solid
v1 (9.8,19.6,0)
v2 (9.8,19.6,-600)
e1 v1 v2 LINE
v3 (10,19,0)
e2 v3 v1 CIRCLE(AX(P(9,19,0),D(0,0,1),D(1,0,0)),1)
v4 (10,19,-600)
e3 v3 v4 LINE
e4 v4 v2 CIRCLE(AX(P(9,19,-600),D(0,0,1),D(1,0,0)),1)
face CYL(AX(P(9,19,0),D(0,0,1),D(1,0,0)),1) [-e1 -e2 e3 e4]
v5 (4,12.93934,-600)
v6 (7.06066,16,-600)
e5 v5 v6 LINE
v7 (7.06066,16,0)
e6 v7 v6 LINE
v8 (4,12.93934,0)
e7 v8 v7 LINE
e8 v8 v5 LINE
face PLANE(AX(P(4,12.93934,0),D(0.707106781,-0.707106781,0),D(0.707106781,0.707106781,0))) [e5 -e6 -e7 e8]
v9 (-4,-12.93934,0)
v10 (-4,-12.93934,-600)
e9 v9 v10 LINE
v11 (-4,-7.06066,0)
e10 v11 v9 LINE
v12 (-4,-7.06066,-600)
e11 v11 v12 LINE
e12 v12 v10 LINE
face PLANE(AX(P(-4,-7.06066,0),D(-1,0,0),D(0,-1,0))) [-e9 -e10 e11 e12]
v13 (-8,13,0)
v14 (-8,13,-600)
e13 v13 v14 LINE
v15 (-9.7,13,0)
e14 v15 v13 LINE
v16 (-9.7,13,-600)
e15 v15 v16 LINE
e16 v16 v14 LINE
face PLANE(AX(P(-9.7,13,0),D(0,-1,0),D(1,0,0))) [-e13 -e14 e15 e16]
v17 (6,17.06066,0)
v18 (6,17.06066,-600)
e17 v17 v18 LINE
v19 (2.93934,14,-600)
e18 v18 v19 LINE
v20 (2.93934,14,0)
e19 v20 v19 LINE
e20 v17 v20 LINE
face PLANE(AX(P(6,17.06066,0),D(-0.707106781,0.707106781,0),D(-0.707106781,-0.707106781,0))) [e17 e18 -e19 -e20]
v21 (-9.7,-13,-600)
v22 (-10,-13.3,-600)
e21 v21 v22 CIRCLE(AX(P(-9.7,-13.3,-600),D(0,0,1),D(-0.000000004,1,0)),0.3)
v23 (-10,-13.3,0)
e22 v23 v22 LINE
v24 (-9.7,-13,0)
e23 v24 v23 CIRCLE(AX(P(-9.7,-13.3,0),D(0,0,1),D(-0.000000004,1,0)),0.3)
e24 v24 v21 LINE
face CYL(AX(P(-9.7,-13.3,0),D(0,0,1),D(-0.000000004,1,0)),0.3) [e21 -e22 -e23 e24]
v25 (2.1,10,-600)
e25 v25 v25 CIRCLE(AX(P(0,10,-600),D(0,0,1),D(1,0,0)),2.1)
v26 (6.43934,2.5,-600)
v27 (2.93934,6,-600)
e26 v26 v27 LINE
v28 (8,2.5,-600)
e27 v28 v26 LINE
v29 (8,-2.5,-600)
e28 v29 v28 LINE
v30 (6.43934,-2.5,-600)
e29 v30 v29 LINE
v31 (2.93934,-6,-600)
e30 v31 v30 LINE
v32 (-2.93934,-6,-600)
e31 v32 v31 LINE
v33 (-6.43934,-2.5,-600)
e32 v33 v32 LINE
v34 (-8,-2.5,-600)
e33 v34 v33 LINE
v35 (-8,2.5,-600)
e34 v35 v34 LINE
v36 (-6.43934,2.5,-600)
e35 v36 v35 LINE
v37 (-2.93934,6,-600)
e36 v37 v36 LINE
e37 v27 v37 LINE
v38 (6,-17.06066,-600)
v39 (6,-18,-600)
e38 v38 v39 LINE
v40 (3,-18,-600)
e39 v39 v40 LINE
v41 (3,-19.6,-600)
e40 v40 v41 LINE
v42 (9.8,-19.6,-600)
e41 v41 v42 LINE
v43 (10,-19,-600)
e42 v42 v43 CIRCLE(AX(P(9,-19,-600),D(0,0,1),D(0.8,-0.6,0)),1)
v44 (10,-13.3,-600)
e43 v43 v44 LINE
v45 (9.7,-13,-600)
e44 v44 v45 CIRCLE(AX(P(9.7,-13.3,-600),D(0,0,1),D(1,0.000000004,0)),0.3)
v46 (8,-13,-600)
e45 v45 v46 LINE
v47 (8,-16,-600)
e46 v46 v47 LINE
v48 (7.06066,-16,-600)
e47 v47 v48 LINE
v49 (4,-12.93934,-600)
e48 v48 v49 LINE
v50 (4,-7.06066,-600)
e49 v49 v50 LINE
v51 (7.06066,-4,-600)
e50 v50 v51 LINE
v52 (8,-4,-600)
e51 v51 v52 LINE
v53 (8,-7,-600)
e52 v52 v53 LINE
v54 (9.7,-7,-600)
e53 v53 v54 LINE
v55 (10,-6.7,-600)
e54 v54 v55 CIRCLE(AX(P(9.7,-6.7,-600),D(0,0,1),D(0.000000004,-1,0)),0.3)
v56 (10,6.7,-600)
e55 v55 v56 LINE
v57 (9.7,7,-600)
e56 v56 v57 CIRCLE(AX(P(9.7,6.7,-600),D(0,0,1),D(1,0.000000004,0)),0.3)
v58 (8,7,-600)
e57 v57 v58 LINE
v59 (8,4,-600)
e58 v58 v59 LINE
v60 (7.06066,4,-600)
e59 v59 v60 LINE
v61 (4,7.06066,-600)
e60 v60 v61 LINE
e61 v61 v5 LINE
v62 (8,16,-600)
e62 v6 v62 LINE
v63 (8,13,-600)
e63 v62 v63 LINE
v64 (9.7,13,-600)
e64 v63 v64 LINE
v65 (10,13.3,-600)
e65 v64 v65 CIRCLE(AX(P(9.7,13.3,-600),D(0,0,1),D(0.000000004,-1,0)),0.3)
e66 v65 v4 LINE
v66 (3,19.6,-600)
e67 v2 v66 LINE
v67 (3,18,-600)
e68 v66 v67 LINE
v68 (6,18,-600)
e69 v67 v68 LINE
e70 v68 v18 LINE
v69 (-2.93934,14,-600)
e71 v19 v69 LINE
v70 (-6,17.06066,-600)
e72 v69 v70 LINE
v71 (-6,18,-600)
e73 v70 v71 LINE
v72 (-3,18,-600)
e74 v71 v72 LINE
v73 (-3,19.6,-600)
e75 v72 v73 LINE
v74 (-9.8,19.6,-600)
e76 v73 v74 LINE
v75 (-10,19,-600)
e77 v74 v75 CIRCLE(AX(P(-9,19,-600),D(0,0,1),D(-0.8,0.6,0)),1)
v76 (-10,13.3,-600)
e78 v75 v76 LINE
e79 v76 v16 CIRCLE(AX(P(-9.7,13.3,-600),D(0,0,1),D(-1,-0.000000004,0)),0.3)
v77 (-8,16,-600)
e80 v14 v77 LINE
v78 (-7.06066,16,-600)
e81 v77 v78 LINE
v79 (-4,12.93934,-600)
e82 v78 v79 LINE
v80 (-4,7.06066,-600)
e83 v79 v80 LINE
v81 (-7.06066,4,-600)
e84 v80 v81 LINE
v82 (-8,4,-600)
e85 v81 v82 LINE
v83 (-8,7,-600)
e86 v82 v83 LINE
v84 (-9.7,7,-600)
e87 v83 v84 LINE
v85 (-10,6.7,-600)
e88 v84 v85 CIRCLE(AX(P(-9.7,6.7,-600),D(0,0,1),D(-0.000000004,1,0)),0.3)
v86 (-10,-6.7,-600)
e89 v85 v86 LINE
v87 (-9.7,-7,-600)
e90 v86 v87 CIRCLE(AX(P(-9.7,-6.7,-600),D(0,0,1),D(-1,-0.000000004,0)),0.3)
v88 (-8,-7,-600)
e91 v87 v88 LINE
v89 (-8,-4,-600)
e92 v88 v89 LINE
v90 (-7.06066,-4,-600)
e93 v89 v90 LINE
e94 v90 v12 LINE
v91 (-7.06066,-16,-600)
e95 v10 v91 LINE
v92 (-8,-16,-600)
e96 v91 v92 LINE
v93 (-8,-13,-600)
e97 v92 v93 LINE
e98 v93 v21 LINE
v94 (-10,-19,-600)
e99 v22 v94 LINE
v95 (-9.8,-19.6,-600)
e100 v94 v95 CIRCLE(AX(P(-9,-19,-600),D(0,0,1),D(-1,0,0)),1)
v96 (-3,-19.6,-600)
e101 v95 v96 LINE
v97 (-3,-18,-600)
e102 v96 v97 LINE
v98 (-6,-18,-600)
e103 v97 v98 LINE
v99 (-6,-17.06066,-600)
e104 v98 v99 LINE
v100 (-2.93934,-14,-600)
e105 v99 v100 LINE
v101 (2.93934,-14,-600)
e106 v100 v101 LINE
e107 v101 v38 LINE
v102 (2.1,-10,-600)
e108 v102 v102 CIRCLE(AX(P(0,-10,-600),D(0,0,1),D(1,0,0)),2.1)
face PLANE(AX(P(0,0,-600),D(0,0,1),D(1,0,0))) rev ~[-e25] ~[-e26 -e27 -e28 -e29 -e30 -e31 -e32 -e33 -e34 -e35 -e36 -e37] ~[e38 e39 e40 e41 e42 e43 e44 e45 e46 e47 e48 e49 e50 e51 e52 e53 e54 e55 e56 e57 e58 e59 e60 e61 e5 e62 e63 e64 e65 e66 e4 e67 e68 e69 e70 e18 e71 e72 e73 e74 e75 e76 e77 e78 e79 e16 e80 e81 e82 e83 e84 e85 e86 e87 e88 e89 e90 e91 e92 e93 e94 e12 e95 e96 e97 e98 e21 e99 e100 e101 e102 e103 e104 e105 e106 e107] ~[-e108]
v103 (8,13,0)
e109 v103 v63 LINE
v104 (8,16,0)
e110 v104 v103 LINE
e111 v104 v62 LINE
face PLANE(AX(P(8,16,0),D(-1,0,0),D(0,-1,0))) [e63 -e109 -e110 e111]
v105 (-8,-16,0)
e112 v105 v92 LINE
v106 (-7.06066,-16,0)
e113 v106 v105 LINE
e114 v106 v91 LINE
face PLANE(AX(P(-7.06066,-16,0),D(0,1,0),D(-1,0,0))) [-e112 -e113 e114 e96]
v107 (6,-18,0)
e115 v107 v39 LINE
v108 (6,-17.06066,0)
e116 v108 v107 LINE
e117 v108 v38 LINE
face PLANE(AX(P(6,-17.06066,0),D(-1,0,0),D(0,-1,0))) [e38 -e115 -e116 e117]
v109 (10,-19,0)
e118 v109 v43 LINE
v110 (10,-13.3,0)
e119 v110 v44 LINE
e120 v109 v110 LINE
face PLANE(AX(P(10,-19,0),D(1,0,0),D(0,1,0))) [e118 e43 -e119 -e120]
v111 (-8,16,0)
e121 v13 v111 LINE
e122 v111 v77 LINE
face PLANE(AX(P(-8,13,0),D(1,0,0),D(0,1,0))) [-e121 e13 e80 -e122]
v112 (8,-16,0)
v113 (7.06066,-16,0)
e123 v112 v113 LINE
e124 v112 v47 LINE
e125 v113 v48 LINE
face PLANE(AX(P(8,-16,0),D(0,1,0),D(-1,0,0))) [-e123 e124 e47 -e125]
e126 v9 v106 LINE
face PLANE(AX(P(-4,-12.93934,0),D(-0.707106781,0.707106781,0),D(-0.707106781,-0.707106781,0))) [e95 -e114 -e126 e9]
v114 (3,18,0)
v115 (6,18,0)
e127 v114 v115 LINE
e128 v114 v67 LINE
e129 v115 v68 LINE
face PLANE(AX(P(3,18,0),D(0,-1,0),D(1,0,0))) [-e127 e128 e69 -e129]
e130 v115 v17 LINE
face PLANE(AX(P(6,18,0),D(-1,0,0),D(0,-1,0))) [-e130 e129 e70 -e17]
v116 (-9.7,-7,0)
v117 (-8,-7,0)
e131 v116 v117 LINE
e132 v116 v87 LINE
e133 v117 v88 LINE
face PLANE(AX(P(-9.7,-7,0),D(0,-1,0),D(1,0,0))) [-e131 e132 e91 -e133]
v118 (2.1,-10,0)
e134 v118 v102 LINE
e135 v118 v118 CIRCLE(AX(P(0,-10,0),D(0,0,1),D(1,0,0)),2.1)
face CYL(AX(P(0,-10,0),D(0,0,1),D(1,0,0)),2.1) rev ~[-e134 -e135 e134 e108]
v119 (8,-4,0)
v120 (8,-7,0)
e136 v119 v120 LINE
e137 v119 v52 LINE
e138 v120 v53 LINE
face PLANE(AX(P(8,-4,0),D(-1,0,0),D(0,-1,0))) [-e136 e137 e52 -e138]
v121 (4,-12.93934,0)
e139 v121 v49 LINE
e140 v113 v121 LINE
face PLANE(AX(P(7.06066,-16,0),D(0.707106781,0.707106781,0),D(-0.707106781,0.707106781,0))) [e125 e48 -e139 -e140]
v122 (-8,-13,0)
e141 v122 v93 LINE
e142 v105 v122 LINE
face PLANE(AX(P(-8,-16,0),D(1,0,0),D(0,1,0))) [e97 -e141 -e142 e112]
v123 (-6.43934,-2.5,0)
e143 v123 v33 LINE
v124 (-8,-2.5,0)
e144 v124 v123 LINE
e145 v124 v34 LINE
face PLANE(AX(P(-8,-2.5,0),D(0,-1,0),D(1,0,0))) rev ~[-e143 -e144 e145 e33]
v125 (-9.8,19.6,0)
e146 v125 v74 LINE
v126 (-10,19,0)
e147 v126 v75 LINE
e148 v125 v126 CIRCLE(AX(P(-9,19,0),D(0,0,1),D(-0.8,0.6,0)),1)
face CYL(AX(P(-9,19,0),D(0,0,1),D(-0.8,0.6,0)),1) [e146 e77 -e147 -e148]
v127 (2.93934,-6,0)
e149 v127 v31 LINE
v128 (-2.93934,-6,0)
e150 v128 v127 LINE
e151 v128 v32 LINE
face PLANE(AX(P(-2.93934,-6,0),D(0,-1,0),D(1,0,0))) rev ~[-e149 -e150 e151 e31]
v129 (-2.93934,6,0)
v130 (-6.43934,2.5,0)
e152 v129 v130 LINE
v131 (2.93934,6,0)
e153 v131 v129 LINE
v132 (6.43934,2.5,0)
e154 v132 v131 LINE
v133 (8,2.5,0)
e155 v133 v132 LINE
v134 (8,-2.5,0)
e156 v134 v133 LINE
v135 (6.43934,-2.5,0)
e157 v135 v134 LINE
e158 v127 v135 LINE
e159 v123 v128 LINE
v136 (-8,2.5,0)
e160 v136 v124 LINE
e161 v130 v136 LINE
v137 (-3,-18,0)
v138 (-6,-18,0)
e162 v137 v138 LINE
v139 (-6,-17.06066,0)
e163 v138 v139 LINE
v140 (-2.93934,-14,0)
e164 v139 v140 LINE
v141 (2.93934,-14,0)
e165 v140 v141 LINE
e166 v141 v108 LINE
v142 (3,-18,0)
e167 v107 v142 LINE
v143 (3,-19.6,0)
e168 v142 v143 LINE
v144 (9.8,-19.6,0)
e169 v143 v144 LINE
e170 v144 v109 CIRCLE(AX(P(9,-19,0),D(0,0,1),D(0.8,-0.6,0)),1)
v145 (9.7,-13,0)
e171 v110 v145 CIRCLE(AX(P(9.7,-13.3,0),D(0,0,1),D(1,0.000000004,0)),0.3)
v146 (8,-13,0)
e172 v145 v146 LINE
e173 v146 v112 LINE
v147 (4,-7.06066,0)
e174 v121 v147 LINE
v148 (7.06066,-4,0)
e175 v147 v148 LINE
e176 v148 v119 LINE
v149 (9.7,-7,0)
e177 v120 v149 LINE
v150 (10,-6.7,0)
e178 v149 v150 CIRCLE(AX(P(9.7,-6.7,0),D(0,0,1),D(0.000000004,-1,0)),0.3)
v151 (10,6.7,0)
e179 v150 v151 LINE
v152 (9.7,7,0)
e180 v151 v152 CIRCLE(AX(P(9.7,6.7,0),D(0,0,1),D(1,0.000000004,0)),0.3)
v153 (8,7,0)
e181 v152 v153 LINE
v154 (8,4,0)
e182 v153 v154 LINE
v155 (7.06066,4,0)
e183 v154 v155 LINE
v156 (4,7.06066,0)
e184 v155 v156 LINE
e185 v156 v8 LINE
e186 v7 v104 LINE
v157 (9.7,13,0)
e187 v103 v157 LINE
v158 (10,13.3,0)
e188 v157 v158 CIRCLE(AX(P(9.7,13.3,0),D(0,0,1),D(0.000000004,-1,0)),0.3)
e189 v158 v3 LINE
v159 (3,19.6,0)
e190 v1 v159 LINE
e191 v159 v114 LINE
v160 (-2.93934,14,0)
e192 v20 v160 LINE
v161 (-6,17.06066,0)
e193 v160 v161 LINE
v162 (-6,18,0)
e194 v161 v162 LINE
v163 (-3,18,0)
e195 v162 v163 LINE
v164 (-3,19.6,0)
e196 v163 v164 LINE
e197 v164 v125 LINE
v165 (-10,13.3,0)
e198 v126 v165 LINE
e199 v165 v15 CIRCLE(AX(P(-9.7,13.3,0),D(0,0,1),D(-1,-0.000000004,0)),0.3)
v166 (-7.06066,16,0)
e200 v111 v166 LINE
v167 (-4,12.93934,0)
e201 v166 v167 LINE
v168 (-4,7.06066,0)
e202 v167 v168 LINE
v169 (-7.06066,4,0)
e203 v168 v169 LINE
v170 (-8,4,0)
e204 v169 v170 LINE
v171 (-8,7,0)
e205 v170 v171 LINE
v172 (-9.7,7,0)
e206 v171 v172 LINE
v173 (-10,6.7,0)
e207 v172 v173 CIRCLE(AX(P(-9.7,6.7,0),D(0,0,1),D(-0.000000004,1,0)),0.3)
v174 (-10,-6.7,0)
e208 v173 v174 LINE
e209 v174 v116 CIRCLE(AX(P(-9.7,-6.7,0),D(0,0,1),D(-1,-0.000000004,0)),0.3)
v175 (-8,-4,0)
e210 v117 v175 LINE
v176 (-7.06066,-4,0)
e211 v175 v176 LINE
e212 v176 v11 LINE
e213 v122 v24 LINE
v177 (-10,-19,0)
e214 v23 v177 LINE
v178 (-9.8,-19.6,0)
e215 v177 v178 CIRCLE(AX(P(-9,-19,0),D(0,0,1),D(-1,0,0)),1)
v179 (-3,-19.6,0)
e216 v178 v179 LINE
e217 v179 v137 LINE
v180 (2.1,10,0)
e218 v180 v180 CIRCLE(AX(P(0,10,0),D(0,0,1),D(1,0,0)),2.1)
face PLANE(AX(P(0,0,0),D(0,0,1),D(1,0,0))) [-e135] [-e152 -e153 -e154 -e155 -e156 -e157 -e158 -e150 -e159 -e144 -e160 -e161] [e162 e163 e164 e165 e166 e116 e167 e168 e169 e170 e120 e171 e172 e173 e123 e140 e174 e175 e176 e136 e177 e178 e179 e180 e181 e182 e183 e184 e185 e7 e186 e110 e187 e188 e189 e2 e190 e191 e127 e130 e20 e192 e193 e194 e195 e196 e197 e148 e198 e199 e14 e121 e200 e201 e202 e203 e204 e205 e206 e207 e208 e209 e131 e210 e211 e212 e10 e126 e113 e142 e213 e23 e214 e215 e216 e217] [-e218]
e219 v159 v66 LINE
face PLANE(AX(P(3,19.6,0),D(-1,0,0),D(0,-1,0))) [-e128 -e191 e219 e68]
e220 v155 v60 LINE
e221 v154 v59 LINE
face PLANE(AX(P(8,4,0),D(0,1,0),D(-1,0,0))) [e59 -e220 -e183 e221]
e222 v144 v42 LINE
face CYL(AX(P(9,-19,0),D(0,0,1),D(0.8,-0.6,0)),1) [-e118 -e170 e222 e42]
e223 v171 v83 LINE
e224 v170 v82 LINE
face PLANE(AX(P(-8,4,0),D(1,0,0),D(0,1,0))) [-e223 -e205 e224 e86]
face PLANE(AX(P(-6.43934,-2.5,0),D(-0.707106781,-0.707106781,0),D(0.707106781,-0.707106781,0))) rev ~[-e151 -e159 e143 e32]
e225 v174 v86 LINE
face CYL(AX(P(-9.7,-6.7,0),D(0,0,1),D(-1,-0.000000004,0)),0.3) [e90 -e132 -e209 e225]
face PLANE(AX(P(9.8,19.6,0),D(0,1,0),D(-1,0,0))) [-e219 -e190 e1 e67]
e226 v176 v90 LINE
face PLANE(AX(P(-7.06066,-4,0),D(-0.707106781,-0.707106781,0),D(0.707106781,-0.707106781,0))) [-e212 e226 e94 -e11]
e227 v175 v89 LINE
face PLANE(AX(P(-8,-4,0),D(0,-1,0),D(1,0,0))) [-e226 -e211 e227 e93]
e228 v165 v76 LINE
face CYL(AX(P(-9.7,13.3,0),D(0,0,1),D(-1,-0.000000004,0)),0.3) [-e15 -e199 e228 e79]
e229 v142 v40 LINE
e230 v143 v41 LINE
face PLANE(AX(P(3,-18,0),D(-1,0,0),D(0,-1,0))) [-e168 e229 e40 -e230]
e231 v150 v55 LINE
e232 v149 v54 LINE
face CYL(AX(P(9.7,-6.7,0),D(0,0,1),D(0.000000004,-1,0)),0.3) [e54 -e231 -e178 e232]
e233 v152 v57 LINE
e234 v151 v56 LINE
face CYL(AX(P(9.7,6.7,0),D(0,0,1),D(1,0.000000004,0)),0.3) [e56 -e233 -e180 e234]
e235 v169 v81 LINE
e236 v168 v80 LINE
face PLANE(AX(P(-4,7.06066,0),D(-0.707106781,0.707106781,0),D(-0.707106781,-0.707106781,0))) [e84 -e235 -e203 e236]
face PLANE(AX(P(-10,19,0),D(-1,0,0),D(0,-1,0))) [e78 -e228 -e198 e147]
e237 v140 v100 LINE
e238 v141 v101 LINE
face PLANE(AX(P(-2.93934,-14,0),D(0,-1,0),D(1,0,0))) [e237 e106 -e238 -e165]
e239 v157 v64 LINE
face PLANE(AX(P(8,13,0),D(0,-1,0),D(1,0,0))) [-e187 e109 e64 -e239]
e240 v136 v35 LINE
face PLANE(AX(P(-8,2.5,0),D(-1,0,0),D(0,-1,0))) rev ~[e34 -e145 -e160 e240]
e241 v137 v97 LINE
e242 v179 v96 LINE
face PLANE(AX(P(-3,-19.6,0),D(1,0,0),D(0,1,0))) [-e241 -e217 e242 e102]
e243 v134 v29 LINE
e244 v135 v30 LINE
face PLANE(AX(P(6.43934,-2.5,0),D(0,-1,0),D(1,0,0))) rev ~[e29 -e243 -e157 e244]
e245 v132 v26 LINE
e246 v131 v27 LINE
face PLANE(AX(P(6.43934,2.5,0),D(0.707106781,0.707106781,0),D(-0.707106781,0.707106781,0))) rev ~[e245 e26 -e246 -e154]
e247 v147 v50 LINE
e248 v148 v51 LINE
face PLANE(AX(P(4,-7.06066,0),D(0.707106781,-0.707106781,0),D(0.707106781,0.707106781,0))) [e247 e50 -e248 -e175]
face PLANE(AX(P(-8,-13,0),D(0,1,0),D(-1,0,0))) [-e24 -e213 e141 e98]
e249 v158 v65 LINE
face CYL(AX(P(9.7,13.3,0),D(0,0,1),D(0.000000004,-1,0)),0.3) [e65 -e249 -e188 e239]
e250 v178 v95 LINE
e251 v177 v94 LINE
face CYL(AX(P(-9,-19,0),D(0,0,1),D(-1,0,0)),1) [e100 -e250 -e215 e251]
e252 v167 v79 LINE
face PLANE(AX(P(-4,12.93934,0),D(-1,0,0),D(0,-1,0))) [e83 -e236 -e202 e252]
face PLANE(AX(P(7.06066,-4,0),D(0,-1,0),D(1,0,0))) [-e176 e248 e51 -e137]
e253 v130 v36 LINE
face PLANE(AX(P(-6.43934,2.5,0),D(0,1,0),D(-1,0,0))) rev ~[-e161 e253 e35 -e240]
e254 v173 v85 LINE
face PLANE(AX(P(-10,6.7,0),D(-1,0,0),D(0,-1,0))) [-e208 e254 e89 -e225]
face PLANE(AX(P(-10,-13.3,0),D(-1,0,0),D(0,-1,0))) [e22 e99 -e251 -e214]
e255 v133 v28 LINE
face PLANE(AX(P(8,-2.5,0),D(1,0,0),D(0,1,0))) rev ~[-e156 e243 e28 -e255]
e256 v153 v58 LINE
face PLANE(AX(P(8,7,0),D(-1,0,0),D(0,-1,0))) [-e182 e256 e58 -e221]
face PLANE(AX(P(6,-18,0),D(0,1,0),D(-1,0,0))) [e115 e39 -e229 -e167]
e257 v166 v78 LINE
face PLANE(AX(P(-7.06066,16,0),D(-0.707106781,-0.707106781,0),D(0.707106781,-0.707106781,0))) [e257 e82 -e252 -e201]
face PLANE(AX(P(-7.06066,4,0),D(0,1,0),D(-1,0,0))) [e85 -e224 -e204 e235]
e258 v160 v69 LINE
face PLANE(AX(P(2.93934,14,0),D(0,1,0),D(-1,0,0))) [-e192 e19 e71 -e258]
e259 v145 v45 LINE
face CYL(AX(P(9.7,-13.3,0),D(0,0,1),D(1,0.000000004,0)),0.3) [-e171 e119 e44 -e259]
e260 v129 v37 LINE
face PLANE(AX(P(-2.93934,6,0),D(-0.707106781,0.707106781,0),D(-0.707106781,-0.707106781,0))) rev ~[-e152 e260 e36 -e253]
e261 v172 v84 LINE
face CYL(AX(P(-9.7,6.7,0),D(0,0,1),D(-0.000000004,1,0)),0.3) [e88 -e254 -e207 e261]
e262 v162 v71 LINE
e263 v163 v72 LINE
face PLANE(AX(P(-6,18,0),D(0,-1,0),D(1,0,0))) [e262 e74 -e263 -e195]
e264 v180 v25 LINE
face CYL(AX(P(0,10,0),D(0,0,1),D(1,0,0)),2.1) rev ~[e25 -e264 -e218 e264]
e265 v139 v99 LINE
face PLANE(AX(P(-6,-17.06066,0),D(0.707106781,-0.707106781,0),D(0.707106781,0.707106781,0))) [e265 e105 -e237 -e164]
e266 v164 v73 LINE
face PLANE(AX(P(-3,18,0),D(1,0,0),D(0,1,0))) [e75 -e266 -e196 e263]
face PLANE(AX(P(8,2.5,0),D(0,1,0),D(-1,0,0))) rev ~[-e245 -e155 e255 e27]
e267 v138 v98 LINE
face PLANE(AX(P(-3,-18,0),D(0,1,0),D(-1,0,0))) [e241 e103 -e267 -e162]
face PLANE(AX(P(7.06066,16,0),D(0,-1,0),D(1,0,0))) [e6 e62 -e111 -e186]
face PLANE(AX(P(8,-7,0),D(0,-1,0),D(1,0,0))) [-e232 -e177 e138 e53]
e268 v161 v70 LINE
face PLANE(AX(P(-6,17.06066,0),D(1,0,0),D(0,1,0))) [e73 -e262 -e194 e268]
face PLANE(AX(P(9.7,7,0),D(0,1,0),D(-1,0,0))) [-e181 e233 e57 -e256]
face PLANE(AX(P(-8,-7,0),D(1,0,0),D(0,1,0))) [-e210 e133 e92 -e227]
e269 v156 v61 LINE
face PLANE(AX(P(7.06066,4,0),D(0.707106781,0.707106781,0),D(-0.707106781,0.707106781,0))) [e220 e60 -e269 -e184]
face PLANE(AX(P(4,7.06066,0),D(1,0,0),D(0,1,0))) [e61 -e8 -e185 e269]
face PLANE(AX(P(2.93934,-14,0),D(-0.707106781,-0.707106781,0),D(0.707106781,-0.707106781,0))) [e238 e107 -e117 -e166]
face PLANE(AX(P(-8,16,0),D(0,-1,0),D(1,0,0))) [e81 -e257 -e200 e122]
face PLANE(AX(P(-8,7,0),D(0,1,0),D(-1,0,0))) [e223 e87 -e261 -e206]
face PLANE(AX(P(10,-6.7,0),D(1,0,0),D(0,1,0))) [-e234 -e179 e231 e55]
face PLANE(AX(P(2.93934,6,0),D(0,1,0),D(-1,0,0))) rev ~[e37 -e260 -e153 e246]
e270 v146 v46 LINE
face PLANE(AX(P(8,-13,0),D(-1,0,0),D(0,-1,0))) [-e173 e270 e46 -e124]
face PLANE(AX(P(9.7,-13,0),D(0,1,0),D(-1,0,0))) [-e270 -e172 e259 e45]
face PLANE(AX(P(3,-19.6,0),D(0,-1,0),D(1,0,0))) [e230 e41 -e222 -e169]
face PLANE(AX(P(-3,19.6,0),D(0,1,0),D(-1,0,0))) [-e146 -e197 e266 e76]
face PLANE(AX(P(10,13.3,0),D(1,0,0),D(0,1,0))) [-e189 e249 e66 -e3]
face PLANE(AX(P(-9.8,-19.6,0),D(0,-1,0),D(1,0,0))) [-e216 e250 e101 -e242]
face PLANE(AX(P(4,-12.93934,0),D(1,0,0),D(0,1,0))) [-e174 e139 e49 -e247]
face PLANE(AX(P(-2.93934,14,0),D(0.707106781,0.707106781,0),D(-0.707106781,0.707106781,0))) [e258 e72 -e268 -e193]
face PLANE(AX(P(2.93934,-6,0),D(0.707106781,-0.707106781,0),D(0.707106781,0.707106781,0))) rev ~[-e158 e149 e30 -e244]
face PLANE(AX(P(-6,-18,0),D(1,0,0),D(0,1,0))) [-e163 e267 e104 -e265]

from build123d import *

# Parameters (mm, degrees)
SKETCH_1_R      = 2.1
EXTRUDE_1_DEPTH = 600


with BuildPart() as part:
    # 草图1 → 凸台-拉伸1 (new body)
    with BuildSketch(Plane.XY):
        with BuildLine():
            Line((-10, 19), (-10, 13.3))
            ThreePointArc((-10, 13.3), (-9.912132034, 13.087867966), (-9.7, 13))
            Line((-9.7, 13), (-8, 13))
            Line((-8, 13), (-8, 16))
            Line((-8, 16), (-7.060660172, 16))
            Line((-7.060660172, 16), (-4, 12.939339828))
            Line((-4, 12.939339828), (-4, 7.060660172))
            Line((-4, 7.060660172), (-7.060660172, 4))
            Line((-7.060660172, 4), (-8, 4))
            Line((-8, 4), (-8, 7))
            Line((-8, 7), (-9.7, 7))
            ThreePointArc((-9.7, 7), (-9.912132034, 6.912132034), (-10, 6.7))
            Line((-10, 6.7), (-10, -6.7))
            ThreePointArc((-10, -6.7), (-9.912132034, -6.912132034), (-9.7, -7))
            Line((-9.7, -7), (-8, -7))
            Line((-8, -7), (-8, -4))
            Line((-8, -4), (-7.060660172, -4))
            Line((-7.060660172, -4), (-4, -7.060660172))
            Line((-4, -7.060660172), (-4, -12.939339828))
            Line((-4, -12.939339828), (-7.060660172, -16))
            Line((-7.060660172, -16), (-8, -16))
            Line((-8, -16), (-8, -13))
            Line((-8, -13), (-9.7, -13))
            ThreePointArc((-9.7, -13), (-9.912132034, -13.087867966), (-10, -13.3))
            Line((-10, -13.3), (-10, -19))
            ThreePointArc((-10, -19), (-9.948683298, -19.316227766), (-9.8, -19.6))
            Line((-9.8, -19.6), (-3, -19.6))
            Line((-3, -19.6), (-3, -18))
            Line((-3, -18), (-6, -18))
            Line((-6, -18), (-6, -17.060660172))
            Line((-6, -17.060660172), (-2.939339828, -14))
            Line((-2.939339828, -14), (2.939339828, -14))
            Line((2.939339828, -14), (6, -17.060660172))
            Line((6, -17.060660172), (6, -18))
            Line((6, -18), (3, -18))
            Line((3, -18), (3, -19.6))
            Line((3, -19.6), (9.8, -19.6))
            ThreePointArc((9.8, -19.6), (9.948683298, -19.316227766), (10, -19))
            Line((10, -19), (10, -13.3))
            ThreePointArc((10, -13.3), (9.912132034, -13.087867966), (9.7, -13))
            Line((9.7, -13), (8, -13))
            Line((8, -13), (8, -16))
            Line((8, -16), (7.060660172, -16))
            Line((7.060660172, -16), (4, -12.939339828))
            Line((4, -12.939339828), (4, -7.060660172))
            Line((4, -7.060660172), (7.060660172, -4))
            Line((7.060660172, -4), (8, -4))
            Line((8, -4), (8, -7))
            Line((8, -7), (9.7, -7))
            ThreePointArc((9.7, -7), (9.912132034, -6.912132034), (10, -6.7))
            Line((10, -6.7), (10, 6.7))
            ThreePointArc((10, 6.7), (9.912132034, 6.912132034), (9.7, 7))
            Line((9.7, 7), (8, 7))
            Line((8, 7), (8, 4))
            Line((8, 4), (7.060660172, 4))
            Line((7.060660172, 4), (4, 7.060660172))
            Line((4, 7.060660172), (4, 12.939339828))
            Line((4, 12.939339828), (7.060660172, 16))
            Line((7.060660172, 16), (8, 16))
            Line((8, 16), (8, 13))
            Line((8, 13), (9.7, 13))
            ThreePointArc((9.7, 13), (9.912132034, 13.087867966), (10, 13.3))
            Line((10, 13.3), (10, 19))
            ThreePointArc((10, 19), (9.948683298, 19.316227766), (9.8, 19.6))
            Line((9.8, 19.6), (3, 19.6))
            Line((3, 19.6), (3, 18))
            Line((3, 18), (6, 18))
            Line((6, 18), (6, 17.060660172))
            Line((6, 17.060660172), (2.939339828, 14))
            Line((2.939339828, 14), (-2.939339828, 14))
            Line((-2.939339828, 14), (-6, 17.060660172))
            Line((-6, 17.060660172), (-6, 18))
            Line((-6, 18), (-3, 18))
            Line((-3, 18), (-3, 19.6))
            Line((-3, 19.6), (-9.8, 19.6))
            ThreePointArc((-9.8, 19.6), (-9.948683298, 19.316227766), (-10, 19))
        make_face()
        with Locations((0, -10)):
            Circle(SKETCH_1_R, mode=Mode.SUBTRACT)
        with Locations((0, 10)):
            Circle(SKETCH_1_R, mode=Mode.SUBTRACT)
        Polygon((-8, -2.5), (-6.439339828, -2.5), (-2.939339828, -6), (2.939339828, -6), (6.439339828, -2.5), (8, -2.5), (8, 2.5), (6.439339828, 2.5), (2.939339828, 6), (-2.939339828, 6), (-6.439339828, 2.5), (-8, 2.5), align=None, mode=Mode.SUBTRACT)
    extrude(amount=-EXTRUDE_1_DEPTH)


solid = part.part
